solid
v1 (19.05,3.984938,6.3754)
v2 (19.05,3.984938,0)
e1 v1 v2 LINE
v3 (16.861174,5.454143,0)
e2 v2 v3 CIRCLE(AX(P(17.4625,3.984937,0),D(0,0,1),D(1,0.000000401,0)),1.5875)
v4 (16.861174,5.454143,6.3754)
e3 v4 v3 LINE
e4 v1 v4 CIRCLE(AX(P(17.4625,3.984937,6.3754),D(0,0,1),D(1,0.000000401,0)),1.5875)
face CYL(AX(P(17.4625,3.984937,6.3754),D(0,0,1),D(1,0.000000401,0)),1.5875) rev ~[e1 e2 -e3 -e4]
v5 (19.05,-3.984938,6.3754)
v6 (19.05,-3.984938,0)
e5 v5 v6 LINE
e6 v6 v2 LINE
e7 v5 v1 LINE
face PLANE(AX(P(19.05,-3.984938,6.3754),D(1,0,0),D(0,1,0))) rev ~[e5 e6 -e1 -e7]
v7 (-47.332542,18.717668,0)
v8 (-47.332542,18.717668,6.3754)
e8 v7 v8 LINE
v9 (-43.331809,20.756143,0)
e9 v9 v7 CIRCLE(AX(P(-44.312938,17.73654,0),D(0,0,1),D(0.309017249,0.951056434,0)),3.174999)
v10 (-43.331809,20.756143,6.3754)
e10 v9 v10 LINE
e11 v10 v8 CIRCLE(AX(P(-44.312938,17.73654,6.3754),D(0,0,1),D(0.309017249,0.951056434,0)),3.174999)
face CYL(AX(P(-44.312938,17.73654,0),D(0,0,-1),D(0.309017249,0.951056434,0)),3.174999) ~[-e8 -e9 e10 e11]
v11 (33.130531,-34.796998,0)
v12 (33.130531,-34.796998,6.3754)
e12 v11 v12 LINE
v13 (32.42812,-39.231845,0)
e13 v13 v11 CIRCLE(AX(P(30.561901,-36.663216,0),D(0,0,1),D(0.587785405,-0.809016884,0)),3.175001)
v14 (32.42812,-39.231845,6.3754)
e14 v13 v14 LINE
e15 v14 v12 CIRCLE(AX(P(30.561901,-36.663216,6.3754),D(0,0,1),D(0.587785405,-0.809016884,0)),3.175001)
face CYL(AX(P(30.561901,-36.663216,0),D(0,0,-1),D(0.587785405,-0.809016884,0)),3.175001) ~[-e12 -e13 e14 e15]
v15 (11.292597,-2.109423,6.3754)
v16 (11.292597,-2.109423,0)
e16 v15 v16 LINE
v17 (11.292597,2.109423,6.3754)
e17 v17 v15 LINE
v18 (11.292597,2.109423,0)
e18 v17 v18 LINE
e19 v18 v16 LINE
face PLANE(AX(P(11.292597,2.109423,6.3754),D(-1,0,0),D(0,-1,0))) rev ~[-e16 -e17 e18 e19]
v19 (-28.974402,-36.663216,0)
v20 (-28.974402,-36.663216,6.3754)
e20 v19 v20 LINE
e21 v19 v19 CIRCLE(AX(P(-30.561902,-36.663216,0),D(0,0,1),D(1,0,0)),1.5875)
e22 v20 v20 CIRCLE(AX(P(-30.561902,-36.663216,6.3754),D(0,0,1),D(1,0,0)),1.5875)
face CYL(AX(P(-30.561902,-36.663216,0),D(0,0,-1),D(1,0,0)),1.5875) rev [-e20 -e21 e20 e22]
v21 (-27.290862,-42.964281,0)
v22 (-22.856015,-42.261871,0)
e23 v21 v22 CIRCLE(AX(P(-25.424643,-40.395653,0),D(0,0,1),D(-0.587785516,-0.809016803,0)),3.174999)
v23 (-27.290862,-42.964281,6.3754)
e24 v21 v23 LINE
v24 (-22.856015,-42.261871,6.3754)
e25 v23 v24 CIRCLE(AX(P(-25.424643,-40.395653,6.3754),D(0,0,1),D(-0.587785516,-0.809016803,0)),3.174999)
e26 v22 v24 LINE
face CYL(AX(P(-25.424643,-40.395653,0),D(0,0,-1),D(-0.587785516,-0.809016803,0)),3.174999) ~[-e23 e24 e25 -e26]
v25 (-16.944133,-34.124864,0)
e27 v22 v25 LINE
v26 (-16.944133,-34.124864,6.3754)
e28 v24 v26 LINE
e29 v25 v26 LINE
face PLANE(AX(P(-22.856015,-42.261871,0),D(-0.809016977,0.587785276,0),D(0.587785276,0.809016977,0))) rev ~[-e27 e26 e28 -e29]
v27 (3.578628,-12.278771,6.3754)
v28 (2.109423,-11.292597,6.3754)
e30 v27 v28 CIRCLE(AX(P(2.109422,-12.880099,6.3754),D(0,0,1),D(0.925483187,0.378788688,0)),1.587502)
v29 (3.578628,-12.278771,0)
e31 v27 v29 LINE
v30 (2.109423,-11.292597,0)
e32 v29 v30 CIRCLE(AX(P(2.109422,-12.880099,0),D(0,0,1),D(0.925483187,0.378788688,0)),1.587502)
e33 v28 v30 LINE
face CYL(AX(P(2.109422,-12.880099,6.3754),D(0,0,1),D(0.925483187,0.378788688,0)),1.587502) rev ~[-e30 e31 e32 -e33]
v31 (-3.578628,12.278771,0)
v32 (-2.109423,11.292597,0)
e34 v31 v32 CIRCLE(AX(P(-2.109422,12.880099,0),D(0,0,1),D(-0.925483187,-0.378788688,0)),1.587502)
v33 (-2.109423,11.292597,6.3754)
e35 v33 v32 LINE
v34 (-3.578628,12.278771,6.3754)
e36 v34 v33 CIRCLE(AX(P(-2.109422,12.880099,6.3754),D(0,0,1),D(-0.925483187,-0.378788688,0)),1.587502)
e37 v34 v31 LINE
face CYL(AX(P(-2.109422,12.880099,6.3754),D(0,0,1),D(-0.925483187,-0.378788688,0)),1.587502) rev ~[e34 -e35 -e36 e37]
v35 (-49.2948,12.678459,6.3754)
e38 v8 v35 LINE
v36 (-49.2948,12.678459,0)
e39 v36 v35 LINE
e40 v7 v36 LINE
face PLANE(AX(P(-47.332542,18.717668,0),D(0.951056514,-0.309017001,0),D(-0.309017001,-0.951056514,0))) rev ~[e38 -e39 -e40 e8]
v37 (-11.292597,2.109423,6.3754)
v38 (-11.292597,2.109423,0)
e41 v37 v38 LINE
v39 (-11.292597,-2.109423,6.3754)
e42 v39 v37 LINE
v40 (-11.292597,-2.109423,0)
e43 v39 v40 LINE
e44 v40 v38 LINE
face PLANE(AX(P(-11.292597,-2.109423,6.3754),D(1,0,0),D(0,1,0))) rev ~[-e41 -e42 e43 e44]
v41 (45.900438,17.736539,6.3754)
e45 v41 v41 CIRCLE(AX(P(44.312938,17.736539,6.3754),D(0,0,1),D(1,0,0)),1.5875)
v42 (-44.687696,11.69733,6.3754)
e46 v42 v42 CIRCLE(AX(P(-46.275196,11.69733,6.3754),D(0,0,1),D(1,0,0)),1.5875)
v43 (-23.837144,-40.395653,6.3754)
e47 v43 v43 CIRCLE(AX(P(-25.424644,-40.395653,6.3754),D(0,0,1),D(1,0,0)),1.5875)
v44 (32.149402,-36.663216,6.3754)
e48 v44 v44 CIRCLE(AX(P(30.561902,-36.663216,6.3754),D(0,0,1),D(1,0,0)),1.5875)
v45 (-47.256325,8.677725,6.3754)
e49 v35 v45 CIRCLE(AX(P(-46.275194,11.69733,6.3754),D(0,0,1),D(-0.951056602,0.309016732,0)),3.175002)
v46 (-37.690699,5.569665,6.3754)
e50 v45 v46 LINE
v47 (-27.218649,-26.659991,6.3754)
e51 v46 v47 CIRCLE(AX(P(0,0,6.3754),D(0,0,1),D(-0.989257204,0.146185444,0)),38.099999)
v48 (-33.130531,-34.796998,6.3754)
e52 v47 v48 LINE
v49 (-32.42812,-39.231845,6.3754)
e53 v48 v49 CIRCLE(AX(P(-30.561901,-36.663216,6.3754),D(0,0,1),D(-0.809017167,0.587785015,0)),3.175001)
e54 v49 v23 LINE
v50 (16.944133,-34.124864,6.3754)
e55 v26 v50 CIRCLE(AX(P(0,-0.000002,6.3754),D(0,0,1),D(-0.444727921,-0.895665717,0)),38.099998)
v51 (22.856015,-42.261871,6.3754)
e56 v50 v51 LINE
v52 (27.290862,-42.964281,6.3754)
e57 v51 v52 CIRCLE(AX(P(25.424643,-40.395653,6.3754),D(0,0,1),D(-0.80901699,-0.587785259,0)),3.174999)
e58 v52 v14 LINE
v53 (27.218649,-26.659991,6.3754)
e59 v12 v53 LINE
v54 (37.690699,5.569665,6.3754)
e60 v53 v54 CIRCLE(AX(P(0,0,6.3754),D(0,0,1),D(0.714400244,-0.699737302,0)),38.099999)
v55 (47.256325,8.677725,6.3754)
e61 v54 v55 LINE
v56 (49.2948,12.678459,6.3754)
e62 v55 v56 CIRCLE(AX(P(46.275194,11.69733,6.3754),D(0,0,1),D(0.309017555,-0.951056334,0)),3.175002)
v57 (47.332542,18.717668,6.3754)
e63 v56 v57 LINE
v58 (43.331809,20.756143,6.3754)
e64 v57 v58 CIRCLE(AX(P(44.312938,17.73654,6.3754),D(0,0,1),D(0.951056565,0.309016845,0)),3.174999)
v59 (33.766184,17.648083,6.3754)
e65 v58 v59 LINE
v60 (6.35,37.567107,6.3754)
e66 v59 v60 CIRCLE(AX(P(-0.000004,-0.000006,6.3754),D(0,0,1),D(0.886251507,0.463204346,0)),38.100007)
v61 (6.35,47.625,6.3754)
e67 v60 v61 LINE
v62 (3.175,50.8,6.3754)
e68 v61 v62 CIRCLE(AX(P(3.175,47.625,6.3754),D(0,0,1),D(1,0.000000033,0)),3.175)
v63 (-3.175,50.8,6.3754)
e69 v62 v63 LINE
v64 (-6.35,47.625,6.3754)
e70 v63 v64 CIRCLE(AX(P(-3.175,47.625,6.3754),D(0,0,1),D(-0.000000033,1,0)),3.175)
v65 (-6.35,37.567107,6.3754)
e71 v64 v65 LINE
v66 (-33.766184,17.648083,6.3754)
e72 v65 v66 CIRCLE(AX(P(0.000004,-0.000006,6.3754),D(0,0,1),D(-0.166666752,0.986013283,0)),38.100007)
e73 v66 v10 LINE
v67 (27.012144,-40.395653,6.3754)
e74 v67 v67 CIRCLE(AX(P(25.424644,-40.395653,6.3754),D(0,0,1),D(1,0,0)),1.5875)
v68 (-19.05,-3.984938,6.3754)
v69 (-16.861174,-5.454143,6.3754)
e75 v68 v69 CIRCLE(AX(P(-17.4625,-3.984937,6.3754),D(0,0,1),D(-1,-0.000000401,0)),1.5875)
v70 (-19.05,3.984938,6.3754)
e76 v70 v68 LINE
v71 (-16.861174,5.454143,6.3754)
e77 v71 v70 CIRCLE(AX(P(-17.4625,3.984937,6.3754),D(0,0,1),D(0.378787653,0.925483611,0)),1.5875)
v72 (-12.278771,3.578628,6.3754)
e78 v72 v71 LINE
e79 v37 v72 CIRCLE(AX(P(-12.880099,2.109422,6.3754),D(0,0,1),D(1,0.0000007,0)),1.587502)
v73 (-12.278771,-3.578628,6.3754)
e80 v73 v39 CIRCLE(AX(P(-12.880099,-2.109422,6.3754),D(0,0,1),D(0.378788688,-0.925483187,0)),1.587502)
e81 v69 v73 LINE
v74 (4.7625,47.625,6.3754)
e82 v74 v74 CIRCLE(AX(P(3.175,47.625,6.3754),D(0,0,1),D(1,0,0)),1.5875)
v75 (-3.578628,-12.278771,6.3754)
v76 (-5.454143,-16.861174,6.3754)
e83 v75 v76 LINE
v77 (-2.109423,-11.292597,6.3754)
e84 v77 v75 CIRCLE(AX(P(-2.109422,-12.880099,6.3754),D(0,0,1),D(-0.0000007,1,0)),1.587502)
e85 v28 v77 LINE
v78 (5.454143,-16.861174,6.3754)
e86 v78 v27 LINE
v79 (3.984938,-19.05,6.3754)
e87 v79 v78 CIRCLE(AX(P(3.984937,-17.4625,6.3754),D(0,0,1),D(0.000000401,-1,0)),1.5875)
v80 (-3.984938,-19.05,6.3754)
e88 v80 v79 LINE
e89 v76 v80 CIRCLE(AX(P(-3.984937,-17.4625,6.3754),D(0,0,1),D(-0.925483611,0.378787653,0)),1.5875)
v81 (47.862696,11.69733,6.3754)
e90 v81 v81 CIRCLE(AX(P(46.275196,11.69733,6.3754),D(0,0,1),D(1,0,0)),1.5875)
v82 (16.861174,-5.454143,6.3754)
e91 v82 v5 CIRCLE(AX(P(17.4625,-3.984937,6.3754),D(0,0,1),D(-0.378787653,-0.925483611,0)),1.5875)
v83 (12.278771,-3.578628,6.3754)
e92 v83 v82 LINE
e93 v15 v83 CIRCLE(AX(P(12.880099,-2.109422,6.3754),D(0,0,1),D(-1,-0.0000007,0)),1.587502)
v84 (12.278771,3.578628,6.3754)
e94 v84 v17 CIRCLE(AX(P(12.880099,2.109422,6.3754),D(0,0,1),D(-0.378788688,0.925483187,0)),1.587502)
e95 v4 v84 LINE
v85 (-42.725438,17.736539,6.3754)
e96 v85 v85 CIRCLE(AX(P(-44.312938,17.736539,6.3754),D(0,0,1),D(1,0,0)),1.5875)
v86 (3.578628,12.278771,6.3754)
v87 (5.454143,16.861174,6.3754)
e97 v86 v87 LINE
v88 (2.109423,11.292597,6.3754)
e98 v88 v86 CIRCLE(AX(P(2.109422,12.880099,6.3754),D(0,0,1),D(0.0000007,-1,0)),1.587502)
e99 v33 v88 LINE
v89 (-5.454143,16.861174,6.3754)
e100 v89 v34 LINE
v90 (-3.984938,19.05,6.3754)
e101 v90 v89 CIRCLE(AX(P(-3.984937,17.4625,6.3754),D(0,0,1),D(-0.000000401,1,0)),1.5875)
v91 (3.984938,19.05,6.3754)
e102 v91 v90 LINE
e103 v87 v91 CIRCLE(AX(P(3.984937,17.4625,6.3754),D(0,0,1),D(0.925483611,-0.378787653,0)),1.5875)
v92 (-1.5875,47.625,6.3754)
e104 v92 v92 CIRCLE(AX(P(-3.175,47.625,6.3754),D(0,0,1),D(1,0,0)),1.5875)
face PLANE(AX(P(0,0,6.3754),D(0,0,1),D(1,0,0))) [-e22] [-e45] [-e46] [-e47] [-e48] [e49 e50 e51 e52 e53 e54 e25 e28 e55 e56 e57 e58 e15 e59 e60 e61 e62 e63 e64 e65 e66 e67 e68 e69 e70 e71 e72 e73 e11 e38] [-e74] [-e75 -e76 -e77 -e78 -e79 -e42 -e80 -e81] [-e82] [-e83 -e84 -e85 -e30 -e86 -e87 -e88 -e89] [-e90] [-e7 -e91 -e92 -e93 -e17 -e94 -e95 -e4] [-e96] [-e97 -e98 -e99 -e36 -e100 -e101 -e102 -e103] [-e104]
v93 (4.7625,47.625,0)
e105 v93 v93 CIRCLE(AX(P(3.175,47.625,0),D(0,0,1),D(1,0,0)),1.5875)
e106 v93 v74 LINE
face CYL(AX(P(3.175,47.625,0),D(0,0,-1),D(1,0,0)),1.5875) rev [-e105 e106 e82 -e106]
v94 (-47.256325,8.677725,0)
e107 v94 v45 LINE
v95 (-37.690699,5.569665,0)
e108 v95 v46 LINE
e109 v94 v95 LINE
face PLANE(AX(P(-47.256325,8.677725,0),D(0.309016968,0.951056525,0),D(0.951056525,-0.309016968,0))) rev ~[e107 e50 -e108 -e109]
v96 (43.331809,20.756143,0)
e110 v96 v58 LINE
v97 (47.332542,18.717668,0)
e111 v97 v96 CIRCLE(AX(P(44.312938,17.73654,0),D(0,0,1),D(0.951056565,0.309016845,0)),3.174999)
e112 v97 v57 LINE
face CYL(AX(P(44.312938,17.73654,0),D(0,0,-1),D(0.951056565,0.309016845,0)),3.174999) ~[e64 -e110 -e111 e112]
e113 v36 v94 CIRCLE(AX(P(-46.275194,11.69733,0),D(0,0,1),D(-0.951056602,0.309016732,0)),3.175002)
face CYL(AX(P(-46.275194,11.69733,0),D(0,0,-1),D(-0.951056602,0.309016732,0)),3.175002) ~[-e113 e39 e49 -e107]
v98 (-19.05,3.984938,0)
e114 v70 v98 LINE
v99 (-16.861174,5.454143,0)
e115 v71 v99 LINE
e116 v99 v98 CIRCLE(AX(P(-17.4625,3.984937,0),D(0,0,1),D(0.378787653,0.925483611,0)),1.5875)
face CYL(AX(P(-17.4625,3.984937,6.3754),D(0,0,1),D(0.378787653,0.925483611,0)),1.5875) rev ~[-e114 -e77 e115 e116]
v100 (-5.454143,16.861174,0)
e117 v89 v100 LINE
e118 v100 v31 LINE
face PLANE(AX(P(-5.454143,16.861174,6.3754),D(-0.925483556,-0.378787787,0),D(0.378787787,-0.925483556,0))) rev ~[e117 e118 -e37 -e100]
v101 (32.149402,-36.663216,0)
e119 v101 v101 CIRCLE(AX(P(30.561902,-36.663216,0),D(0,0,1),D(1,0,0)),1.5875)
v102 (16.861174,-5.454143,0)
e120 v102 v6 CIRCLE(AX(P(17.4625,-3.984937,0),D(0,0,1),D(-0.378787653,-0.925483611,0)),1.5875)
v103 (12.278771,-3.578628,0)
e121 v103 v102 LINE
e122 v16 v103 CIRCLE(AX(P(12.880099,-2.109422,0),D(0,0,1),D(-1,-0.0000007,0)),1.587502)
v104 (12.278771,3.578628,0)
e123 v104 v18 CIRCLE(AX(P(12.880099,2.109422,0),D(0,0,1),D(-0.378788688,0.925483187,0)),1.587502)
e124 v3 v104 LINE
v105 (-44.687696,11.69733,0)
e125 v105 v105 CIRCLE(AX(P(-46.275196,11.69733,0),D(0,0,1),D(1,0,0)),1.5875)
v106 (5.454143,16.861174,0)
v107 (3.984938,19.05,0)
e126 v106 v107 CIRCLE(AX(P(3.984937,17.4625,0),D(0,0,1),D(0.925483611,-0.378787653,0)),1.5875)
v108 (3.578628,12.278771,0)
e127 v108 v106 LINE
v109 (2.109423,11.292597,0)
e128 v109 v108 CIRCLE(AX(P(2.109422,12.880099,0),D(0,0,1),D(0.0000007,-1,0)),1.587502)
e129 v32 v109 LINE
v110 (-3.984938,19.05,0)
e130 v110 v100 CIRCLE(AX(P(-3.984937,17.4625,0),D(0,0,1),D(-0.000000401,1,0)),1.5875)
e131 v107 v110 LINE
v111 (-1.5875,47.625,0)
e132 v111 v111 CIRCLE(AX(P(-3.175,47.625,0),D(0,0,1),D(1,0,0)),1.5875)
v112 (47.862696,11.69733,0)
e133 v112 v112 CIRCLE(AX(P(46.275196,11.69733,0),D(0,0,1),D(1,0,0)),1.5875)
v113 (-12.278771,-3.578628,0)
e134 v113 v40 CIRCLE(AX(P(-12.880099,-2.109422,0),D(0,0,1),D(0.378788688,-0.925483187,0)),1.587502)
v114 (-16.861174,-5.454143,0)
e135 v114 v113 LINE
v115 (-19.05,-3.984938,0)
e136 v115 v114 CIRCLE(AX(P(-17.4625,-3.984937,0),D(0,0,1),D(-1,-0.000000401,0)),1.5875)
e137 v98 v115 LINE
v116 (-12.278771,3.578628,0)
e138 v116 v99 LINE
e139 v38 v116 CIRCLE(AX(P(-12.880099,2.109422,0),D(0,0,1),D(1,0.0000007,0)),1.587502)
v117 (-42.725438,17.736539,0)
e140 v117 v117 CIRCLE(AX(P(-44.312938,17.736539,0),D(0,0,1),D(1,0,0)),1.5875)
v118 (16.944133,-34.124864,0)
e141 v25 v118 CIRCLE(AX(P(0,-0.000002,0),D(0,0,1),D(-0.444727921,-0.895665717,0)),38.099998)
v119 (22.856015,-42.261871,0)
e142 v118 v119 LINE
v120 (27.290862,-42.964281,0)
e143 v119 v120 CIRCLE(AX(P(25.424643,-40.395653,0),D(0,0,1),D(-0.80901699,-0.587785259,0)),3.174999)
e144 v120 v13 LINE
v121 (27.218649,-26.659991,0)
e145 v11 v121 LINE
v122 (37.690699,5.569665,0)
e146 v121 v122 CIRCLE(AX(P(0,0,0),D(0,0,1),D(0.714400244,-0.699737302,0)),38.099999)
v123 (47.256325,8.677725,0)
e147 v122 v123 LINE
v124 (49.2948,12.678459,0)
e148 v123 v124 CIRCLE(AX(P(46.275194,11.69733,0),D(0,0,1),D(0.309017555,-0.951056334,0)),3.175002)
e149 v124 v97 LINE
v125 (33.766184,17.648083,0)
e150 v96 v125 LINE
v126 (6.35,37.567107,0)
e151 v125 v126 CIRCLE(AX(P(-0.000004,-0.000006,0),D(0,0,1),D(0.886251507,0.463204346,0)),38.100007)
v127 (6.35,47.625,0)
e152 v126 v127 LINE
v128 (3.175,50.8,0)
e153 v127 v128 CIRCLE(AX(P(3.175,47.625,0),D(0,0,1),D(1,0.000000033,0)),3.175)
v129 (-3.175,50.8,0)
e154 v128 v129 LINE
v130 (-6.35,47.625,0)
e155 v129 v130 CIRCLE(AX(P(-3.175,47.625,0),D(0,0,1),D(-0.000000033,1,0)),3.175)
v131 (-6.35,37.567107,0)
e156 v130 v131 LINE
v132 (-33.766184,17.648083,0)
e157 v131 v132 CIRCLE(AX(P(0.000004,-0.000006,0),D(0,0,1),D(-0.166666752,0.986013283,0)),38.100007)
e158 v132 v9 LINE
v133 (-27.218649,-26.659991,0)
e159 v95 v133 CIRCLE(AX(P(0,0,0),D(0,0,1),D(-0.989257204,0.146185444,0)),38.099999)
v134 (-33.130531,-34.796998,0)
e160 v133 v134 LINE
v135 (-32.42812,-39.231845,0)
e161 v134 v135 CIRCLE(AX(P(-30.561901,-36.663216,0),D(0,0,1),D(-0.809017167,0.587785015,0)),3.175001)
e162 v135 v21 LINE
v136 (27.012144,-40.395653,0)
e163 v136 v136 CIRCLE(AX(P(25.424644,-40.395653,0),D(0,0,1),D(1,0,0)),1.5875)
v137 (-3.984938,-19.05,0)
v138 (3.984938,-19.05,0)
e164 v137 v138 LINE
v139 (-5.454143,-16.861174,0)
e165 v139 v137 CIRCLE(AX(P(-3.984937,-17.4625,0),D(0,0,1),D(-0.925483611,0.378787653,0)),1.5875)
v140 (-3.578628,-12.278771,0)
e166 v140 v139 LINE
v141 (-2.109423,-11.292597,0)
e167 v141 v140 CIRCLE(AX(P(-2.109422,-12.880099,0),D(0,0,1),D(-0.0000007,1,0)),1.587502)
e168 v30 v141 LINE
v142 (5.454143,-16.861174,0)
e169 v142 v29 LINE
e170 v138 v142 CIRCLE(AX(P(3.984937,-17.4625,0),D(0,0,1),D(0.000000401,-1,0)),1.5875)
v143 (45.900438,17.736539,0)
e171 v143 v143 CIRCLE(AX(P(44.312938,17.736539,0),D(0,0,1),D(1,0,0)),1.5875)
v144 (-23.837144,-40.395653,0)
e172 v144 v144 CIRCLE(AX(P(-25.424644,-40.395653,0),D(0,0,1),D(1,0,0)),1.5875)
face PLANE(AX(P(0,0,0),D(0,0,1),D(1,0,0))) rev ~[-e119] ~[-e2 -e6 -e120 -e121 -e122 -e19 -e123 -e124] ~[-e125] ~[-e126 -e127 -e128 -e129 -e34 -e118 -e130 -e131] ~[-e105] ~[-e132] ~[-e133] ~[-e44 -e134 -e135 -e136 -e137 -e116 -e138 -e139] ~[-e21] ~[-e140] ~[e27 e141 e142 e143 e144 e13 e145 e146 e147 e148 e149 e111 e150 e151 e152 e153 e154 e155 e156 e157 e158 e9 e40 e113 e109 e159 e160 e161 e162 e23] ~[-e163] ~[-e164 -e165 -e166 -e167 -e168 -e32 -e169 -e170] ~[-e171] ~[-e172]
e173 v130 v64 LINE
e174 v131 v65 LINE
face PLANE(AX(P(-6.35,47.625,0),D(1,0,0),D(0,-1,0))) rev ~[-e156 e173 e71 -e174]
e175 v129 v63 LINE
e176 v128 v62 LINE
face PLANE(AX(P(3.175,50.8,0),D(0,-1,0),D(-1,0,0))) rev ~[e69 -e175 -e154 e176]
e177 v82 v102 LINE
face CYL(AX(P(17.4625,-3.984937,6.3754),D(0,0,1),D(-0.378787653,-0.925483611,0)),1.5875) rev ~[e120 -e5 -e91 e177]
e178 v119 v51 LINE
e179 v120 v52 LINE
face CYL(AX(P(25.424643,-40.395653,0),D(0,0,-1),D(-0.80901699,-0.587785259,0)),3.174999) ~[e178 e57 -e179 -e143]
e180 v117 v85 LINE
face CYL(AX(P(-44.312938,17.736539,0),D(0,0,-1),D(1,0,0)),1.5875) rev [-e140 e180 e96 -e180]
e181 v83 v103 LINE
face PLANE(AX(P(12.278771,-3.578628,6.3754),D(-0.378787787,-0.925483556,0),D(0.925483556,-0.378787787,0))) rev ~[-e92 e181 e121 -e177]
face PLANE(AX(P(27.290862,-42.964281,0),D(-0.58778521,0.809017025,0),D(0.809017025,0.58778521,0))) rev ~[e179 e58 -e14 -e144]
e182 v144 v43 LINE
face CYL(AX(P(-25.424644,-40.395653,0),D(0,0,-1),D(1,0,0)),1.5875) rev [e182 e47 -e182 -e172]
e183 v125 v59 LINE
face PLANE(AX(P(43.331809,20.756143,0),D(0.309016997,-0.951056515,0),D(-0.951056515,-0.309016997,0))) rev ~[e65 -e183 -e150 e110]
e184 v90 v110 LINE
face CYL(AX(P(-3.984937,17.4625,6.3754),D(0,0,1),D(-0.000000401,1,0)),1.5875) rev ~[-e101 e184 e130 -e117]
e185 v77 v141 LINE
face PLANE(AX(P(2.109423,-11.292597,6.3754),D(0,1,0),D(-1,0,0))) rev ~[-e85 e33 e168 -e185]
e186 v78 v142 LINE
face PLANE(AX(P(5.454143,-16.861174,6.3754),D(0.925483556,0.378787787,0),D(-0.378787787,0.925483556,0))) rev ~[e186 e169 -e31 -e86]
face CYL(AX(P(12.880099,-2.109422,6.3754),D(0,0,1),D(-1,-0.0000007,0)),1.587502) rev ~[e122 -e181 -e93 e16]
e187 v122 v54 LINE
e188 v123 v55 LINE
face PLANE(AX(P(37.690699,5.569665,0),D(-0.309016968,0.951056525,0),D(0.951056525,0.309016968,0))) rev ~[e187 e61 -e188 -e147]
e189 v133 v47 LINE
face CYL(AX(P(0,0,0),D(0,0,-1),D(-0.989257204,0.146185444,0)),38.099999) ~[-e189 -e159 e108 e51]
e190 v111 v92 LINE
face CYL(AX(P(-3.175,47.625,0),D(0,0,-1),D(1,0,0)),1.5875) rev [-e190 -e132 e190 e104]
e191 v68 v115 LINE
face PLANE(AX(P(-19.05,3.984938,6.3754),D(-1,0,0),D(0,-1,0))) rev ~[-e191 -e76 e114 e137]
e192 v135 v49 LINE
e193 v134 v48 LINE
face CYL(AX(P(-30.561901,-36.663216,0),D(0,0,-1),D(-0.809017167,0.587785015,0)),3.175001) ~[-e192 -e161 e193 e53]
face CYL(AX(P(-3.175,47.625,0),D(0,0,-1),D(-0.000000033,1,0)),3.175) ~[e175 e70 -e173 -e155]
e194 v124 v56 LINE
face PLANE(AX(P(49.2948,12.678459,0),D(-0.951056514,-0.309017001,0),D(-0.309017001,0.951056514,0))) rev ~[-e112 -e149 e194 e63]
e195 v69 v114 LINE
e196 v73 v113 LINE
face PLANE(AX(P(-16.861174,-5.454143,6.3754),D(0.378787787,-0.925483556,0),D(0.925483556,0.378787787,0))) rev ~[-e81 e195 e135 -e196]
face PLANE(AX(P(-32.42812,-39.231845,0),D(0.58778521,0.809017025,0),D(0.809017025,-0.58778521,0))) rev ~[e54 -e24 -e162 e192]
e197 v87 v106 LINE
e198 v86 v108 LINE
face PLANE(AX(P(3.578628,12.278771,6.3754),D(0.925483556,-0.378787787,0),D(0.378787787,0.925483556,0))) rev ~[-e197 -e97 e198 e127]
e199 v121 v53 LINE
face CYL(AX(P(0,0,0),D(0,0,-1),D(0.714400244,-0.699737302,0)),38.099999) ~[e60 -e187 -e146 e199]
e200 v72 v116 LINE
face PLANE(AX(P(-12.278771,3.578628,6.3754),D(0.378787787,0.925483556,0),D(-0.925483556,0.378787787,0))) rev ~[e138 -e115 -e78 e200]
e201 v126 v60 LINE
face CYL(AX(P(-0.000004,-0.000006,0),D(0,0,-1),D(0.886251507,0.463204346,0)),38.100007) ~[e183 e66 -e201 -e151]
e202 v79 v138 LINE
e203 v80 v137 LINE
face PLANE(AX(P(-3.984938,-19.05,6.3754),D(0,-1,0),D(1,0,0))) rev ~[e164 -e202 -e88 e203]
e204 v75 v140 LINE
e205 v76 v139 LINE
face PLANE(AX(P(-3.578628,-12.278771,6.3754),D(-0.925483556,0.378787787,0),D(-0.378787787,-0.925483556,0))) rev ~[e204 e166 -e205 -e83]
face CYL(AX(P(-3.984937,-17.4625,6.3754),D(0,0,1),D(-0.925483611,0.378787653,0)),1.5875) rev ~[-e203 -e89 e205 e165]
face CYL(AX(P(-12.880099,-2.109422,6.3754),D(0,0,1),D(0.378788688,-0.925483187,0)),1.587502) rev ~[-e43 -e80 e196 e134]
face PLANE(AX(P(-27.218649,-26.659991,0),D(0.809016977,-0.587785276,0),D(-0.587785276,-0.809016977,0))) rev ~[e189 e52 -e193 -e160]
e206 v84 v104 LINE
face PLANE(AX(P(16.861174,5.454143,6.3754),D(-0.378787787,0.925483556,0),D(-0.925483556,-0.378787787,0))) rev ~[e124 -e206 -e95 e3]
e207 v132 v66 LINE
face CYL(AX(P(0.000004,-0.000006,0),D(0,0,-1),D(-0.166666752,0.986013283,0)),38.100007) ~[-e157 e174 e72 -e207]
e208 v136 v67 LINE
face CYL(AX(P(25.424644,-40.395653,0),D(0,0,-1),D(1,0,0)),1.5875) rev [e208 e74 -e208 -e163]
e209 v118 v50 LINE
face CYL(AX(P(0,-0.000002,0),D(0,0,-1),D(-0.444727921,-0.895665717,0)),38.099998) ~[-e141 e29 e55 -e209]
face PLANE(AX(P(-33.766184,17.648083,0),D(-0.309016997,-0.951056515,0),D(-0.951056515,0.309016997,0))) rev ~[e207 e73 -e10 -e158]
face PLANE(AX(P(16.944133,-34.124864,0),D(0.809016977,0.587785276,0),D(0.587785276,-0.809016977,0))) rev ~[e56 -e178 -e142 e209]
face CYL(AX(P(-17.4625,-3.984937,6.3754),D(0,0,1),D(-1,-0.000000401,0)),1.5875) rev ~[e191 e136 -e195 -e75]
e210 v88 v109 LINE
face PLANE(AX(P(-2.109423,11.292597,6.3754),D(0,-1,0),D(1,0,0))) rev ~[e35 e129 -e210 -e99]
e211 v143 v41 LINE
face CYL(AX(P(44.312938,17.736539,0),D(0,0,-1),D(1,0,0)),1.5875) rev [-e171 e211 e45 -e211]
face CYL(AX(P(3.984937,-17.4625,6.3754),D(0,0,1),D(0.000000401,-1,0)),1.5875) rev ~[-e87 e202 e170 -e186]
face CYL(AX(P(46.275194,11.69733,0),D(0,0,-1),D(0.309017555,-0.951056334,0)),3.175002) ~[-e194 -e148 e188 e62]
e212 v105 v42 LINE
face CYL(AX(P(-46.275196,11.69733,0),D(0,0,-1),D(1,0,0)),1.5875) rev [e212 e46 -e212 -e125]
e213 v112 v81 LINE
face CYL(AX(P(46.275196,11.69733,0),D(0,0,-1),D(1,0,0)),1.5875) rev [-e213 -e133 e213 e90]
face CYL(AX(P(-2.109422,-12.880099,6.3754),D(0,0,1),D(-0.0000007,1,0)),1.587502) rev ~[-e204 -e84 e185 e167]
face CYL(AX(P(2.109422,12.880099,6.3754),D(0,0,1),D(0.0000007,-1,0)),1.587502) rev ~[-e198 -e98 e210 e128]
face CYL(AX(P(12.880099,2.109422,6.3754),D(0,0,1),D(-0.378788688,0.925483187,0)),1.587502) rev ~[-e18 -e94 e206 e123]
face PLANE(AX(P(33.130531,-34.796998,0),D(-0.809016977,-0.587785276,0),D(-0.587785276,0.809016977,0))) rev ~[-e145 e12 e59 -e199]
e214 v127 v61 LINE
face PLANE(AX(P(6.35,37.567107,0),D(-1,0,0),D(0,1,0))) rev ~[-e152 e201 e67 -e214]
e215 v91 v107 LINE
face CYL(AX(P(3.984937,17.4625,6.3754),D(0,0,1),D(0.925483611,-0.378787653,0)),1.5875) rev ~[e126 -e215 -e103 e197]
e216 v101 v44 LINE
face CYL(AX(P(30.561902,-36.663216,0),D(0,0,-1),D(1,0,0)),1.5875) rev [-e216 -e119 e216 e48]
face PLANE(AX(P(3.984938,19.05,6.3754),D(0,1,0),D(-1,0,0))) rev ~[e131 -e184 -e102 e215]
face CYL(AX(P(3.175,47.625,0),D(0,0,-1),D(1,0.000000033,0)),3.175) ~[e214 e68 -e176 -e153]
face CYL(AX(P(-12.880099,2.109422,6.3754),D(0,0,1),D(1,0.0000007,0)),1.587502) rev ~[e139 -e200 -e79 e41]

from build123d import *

# Parameters (mm, degrees)
F0_R     = 1.5875
F1_DEPTH = 6.3754
F3_DEPTH = 6.3764


with BuildPart() as f1:
    # F0 (on Top) → F1 (new body)
    with BuildSketch(Plane.XY):
        with BuildLine():
            Line((-6.35, 47.625), (-6.35, 37.567107))
            ThreePointArc((-6.35, 37.567107), (-22.394618, 30.823547), (-33.766184, 17.648083))
            Line((-33.766184, 17.648083), (-43.331809, 20.756143))
            ThreePointArc((-43.331809, 20.756143), (-45.754357, 20.565485), (-47.332542, 18.717668))
            Line((-47.332542, 18.717668), (-49.2948, 12.678459))
            ThreePointArc((-49.2948, 12.678459), (-49.104141, 10.25591), (-47.256325, 8.677725))
            Line((-47.256325, 8.677725), (-37.690699, 5.569665))
            ThreePointArc((-37.690699, 5.569665), (-36.235253, -11.773547), (-27.218649, -26.659991))
            Line((-27.218649, -26.659991), (-33.130531, -34.796998))
            ThreePointArc((-33.130531, -34.796998), (-33.697812, -37.159896), (-32.42812, -39.231845))
            Line((-32.42812, -39.231845), (-27.290862, -42.964281))
            ThreePointArc((-27.290862, -42.964281), (-24.927964, -43.531563), (-22.856015, -42.261871))
            Line((-22.856015, -42.261871), (-16.944133, -34.124864))
            ThreePointArc((-16.944133, -34.124864), (0, -38.1), (16.944133, -34.124864))
            Line((16.944133, -34.124864), (22.856015, -42.261871))
            ThreePointArc((22.856015, -42.261871), (24.927964, -43.531563), (27.290862, -42.964281))
            Line((27.290862, -42.964281), (32.42812, -39.231845))
            ThreePointArc((32.42812, -39.231845), (33.697812, -37.159896), (33.130531, -34.796998))
            Line((33.130531, -34.796998), (27.218649, -26.659991))
            ThreePointArc((27.218649, -26.659991), (36.235253, -11.773547), (37.690699, 5.569665))
            Line((37.690699, 5.569665), (47.256325, 8.677725))
            ThreePointArc((47.256325, 8.677725), (49.104141, 10.25591), (49.2948, 12.678459))
            Line((49.2948, 12.678459), (47.332542, 18.717668))
            ThreePointArc((47.332542, 18.717668), (45.754357, 20.565485), (43.331809, 20.756143))
            Line((43.331809, 20.756143), (33.766184, 17.648083))
            ThreePointArc((33.766184, 17.648083), (22.394618, 30.823547), (6.35, 37.567107))
            Line((6.35, 37.567107), (6.35, 47.625))
            ThreePointArc((6.35, 47.625), (5.420064, 49.870064), (3.175, 50.8))
            Line((3.175, 50.8), (-3.175, 50.8))
            ThreePointArc((-3.175, 50.8), (-5.420064, 49.870064), (-6.35, 47.625))
        make_face()
        with Locations((-25.424644, -40.395653)):
            Circle(F0_R, mode=Mode.SUBTRACT)
        with Locations((-30.561902, -36.663216)):
            Circle(F0_R, mode=Mode.SUBTRACT)
        with Locations((25.424644, -40.395653)):
            Circle(F0_R, mode=Mode.SUBTRACT)
        with Locations((30.561902, -36.663216)):
            Circle(F0_R, mode=Mode.SUBTRACT)
        with Locations((-46.275196, 11.69733)):
            Circle(F0_R, mode=Mode.SUBTRACT)
        with Locations((-44.312938, 17.736539)):
            Circle(F0_R, mode=Mode.SUBTRACT)
        with Locations((-3.175, 47.625)):
            Circle(F0_R, mode=Mode.SUBTRACT)
        with Locations((46.275196, 11.69733)):
            Circle(F0_R, mode=Mode.SUBTRACT)
        with Locations((44.312938, 17.736539)):
            Circle(F0_R, mode=Mode.SUBTRACT)
        with Locations((3.175, 47.625)):
            Circle(F0_R, mode=Mode.SUBTRACT)
    extrude(amount=F1_DEPTH)

    # F2 (on face) → F3 (cut, through all)
    with BuildSketch(Plane.XY.offset(6.3754)):
        with BuildLine():
            Line((3.984938, 19.05), (0, 19.05))
            Line((0, 19.05), (-3.984938, 19.05))
            ThreePointArc((-3.984938, 19.05), (-5.303035, 18.347246), (-5.454143, 16.861174))
            Line((-5.454143, 16.861174), (-3.578628, 12.278771))
            ThreePointArc((-3.578628, 12.278771), (-2.994169, 11.562), (-2.109423, 11.292597))
            Line((-2.109423, 11.292597), (0, 11.292597))
            Line((0, 11.292597), (2.109423, 11.292597))
            ThreePointArc((2.109423, 11.292597), (2.994169, 11.562), (3.578628, 12.278771))
            Line((3.578628, 12.278771), (5.454143, 16.861174))
            ThreePointArc((5.454143, 16.861174), (5.303035, 18.347246), (3.984938, 19.05))
        make_face()
        with BuildLine():
            Line((19.05, -3.984938), (19.05, 0))
            Line((19.05, 0), (19.05, 3.984938))
            ThreePointArc((19.05, 3.984938), (18.347246, 5.303035), (16.861174, 5.454143))
            Line((16.861174, 5.454143), (12.278771, 3.578628))
            ThreePointArc((12.278771, 3.578628), (11.562, 2.994169), (11.292597, 2.109423))
            Line((11.292597, 2.109423), (11.292597, 0))
            Line((11.292597, 0), (11.292597, -2.109423))
            ThreePointArc((11.292597, -2.109423), (11.562, -2.994169), (12.278771, -3.578628))
            Line((12.278771, -3.578628), (16.861174, -5.454143))
            ThreePointArc((16.861174, -5.454143), (18.347246, -5.303035), (19.05, -3.984938))
        make_face()
        with BuildLine():
            Line((-3.984938, -19.05), (0, -19.05))
            Line((0, -19.05), (3.984938, -19.05))
            ThreePointArc((3.984938, -19.05), (5.303035, -18.347246), (5.454143, -16.861174))
            Line((5.454143, -16.861174), (3.578628, -12.278771))
            ThreePointArc((3.578628, -12.278771), (2.994169, -11.562), (2.109423, -11.292597))
            Line((2.109423, -11.292597), (0, -11.292597))
            Line((0, -11.292597), (-2.109423, -11.292597))
            ThreePointArc((-2.109423, -11.292597), (-2.994169, -11.562), (-3.578628, -12.278771))
            Line((-3.578628, -12.278771), (-5.454143, -16.861174))
            ThreePointArc((-5.454143, -16.861174), (-5.303035, -18.347246), (-3.984938, -19.05))
        make_face()
        with BuildLine():
            Line((-19.05, 3.984938), (-19.05, 0))
            Line((-19.05, 0), (-19.05, -3.984938))
            ThreePointArc((-19.05, -3.984938), (-18.347246, -5.303035), (-16.861174, -5.454143))
            Line((-16.861174, -5.454143), (-12.278771, -3.578628))
            ThreePointArc((-12.278771, -3.578628), (-11.562, -2.994169), (-11.292597, -2.109423))
            Line((-11.292597, -2.109423), (-11.292597, 0))
            Line((-11.292597, 0), (-11.292597, 2.109423))
            ThreePointArc((-11.292597, 2.109423), (-11.562, 2.994169), (-12.278771, 3.578628))
            Line((-12.278771, 3.578628), (-16.861174, 5.454143))
            ThreePointArc((-16.861174, 5.454143), (-18.347246, 5.303035), (-19.05, 3.984938))
        make_face()
    extrude(amount=-F3_DEPTH, mode=Mode.SUBTRACT)


solid = f1.part
